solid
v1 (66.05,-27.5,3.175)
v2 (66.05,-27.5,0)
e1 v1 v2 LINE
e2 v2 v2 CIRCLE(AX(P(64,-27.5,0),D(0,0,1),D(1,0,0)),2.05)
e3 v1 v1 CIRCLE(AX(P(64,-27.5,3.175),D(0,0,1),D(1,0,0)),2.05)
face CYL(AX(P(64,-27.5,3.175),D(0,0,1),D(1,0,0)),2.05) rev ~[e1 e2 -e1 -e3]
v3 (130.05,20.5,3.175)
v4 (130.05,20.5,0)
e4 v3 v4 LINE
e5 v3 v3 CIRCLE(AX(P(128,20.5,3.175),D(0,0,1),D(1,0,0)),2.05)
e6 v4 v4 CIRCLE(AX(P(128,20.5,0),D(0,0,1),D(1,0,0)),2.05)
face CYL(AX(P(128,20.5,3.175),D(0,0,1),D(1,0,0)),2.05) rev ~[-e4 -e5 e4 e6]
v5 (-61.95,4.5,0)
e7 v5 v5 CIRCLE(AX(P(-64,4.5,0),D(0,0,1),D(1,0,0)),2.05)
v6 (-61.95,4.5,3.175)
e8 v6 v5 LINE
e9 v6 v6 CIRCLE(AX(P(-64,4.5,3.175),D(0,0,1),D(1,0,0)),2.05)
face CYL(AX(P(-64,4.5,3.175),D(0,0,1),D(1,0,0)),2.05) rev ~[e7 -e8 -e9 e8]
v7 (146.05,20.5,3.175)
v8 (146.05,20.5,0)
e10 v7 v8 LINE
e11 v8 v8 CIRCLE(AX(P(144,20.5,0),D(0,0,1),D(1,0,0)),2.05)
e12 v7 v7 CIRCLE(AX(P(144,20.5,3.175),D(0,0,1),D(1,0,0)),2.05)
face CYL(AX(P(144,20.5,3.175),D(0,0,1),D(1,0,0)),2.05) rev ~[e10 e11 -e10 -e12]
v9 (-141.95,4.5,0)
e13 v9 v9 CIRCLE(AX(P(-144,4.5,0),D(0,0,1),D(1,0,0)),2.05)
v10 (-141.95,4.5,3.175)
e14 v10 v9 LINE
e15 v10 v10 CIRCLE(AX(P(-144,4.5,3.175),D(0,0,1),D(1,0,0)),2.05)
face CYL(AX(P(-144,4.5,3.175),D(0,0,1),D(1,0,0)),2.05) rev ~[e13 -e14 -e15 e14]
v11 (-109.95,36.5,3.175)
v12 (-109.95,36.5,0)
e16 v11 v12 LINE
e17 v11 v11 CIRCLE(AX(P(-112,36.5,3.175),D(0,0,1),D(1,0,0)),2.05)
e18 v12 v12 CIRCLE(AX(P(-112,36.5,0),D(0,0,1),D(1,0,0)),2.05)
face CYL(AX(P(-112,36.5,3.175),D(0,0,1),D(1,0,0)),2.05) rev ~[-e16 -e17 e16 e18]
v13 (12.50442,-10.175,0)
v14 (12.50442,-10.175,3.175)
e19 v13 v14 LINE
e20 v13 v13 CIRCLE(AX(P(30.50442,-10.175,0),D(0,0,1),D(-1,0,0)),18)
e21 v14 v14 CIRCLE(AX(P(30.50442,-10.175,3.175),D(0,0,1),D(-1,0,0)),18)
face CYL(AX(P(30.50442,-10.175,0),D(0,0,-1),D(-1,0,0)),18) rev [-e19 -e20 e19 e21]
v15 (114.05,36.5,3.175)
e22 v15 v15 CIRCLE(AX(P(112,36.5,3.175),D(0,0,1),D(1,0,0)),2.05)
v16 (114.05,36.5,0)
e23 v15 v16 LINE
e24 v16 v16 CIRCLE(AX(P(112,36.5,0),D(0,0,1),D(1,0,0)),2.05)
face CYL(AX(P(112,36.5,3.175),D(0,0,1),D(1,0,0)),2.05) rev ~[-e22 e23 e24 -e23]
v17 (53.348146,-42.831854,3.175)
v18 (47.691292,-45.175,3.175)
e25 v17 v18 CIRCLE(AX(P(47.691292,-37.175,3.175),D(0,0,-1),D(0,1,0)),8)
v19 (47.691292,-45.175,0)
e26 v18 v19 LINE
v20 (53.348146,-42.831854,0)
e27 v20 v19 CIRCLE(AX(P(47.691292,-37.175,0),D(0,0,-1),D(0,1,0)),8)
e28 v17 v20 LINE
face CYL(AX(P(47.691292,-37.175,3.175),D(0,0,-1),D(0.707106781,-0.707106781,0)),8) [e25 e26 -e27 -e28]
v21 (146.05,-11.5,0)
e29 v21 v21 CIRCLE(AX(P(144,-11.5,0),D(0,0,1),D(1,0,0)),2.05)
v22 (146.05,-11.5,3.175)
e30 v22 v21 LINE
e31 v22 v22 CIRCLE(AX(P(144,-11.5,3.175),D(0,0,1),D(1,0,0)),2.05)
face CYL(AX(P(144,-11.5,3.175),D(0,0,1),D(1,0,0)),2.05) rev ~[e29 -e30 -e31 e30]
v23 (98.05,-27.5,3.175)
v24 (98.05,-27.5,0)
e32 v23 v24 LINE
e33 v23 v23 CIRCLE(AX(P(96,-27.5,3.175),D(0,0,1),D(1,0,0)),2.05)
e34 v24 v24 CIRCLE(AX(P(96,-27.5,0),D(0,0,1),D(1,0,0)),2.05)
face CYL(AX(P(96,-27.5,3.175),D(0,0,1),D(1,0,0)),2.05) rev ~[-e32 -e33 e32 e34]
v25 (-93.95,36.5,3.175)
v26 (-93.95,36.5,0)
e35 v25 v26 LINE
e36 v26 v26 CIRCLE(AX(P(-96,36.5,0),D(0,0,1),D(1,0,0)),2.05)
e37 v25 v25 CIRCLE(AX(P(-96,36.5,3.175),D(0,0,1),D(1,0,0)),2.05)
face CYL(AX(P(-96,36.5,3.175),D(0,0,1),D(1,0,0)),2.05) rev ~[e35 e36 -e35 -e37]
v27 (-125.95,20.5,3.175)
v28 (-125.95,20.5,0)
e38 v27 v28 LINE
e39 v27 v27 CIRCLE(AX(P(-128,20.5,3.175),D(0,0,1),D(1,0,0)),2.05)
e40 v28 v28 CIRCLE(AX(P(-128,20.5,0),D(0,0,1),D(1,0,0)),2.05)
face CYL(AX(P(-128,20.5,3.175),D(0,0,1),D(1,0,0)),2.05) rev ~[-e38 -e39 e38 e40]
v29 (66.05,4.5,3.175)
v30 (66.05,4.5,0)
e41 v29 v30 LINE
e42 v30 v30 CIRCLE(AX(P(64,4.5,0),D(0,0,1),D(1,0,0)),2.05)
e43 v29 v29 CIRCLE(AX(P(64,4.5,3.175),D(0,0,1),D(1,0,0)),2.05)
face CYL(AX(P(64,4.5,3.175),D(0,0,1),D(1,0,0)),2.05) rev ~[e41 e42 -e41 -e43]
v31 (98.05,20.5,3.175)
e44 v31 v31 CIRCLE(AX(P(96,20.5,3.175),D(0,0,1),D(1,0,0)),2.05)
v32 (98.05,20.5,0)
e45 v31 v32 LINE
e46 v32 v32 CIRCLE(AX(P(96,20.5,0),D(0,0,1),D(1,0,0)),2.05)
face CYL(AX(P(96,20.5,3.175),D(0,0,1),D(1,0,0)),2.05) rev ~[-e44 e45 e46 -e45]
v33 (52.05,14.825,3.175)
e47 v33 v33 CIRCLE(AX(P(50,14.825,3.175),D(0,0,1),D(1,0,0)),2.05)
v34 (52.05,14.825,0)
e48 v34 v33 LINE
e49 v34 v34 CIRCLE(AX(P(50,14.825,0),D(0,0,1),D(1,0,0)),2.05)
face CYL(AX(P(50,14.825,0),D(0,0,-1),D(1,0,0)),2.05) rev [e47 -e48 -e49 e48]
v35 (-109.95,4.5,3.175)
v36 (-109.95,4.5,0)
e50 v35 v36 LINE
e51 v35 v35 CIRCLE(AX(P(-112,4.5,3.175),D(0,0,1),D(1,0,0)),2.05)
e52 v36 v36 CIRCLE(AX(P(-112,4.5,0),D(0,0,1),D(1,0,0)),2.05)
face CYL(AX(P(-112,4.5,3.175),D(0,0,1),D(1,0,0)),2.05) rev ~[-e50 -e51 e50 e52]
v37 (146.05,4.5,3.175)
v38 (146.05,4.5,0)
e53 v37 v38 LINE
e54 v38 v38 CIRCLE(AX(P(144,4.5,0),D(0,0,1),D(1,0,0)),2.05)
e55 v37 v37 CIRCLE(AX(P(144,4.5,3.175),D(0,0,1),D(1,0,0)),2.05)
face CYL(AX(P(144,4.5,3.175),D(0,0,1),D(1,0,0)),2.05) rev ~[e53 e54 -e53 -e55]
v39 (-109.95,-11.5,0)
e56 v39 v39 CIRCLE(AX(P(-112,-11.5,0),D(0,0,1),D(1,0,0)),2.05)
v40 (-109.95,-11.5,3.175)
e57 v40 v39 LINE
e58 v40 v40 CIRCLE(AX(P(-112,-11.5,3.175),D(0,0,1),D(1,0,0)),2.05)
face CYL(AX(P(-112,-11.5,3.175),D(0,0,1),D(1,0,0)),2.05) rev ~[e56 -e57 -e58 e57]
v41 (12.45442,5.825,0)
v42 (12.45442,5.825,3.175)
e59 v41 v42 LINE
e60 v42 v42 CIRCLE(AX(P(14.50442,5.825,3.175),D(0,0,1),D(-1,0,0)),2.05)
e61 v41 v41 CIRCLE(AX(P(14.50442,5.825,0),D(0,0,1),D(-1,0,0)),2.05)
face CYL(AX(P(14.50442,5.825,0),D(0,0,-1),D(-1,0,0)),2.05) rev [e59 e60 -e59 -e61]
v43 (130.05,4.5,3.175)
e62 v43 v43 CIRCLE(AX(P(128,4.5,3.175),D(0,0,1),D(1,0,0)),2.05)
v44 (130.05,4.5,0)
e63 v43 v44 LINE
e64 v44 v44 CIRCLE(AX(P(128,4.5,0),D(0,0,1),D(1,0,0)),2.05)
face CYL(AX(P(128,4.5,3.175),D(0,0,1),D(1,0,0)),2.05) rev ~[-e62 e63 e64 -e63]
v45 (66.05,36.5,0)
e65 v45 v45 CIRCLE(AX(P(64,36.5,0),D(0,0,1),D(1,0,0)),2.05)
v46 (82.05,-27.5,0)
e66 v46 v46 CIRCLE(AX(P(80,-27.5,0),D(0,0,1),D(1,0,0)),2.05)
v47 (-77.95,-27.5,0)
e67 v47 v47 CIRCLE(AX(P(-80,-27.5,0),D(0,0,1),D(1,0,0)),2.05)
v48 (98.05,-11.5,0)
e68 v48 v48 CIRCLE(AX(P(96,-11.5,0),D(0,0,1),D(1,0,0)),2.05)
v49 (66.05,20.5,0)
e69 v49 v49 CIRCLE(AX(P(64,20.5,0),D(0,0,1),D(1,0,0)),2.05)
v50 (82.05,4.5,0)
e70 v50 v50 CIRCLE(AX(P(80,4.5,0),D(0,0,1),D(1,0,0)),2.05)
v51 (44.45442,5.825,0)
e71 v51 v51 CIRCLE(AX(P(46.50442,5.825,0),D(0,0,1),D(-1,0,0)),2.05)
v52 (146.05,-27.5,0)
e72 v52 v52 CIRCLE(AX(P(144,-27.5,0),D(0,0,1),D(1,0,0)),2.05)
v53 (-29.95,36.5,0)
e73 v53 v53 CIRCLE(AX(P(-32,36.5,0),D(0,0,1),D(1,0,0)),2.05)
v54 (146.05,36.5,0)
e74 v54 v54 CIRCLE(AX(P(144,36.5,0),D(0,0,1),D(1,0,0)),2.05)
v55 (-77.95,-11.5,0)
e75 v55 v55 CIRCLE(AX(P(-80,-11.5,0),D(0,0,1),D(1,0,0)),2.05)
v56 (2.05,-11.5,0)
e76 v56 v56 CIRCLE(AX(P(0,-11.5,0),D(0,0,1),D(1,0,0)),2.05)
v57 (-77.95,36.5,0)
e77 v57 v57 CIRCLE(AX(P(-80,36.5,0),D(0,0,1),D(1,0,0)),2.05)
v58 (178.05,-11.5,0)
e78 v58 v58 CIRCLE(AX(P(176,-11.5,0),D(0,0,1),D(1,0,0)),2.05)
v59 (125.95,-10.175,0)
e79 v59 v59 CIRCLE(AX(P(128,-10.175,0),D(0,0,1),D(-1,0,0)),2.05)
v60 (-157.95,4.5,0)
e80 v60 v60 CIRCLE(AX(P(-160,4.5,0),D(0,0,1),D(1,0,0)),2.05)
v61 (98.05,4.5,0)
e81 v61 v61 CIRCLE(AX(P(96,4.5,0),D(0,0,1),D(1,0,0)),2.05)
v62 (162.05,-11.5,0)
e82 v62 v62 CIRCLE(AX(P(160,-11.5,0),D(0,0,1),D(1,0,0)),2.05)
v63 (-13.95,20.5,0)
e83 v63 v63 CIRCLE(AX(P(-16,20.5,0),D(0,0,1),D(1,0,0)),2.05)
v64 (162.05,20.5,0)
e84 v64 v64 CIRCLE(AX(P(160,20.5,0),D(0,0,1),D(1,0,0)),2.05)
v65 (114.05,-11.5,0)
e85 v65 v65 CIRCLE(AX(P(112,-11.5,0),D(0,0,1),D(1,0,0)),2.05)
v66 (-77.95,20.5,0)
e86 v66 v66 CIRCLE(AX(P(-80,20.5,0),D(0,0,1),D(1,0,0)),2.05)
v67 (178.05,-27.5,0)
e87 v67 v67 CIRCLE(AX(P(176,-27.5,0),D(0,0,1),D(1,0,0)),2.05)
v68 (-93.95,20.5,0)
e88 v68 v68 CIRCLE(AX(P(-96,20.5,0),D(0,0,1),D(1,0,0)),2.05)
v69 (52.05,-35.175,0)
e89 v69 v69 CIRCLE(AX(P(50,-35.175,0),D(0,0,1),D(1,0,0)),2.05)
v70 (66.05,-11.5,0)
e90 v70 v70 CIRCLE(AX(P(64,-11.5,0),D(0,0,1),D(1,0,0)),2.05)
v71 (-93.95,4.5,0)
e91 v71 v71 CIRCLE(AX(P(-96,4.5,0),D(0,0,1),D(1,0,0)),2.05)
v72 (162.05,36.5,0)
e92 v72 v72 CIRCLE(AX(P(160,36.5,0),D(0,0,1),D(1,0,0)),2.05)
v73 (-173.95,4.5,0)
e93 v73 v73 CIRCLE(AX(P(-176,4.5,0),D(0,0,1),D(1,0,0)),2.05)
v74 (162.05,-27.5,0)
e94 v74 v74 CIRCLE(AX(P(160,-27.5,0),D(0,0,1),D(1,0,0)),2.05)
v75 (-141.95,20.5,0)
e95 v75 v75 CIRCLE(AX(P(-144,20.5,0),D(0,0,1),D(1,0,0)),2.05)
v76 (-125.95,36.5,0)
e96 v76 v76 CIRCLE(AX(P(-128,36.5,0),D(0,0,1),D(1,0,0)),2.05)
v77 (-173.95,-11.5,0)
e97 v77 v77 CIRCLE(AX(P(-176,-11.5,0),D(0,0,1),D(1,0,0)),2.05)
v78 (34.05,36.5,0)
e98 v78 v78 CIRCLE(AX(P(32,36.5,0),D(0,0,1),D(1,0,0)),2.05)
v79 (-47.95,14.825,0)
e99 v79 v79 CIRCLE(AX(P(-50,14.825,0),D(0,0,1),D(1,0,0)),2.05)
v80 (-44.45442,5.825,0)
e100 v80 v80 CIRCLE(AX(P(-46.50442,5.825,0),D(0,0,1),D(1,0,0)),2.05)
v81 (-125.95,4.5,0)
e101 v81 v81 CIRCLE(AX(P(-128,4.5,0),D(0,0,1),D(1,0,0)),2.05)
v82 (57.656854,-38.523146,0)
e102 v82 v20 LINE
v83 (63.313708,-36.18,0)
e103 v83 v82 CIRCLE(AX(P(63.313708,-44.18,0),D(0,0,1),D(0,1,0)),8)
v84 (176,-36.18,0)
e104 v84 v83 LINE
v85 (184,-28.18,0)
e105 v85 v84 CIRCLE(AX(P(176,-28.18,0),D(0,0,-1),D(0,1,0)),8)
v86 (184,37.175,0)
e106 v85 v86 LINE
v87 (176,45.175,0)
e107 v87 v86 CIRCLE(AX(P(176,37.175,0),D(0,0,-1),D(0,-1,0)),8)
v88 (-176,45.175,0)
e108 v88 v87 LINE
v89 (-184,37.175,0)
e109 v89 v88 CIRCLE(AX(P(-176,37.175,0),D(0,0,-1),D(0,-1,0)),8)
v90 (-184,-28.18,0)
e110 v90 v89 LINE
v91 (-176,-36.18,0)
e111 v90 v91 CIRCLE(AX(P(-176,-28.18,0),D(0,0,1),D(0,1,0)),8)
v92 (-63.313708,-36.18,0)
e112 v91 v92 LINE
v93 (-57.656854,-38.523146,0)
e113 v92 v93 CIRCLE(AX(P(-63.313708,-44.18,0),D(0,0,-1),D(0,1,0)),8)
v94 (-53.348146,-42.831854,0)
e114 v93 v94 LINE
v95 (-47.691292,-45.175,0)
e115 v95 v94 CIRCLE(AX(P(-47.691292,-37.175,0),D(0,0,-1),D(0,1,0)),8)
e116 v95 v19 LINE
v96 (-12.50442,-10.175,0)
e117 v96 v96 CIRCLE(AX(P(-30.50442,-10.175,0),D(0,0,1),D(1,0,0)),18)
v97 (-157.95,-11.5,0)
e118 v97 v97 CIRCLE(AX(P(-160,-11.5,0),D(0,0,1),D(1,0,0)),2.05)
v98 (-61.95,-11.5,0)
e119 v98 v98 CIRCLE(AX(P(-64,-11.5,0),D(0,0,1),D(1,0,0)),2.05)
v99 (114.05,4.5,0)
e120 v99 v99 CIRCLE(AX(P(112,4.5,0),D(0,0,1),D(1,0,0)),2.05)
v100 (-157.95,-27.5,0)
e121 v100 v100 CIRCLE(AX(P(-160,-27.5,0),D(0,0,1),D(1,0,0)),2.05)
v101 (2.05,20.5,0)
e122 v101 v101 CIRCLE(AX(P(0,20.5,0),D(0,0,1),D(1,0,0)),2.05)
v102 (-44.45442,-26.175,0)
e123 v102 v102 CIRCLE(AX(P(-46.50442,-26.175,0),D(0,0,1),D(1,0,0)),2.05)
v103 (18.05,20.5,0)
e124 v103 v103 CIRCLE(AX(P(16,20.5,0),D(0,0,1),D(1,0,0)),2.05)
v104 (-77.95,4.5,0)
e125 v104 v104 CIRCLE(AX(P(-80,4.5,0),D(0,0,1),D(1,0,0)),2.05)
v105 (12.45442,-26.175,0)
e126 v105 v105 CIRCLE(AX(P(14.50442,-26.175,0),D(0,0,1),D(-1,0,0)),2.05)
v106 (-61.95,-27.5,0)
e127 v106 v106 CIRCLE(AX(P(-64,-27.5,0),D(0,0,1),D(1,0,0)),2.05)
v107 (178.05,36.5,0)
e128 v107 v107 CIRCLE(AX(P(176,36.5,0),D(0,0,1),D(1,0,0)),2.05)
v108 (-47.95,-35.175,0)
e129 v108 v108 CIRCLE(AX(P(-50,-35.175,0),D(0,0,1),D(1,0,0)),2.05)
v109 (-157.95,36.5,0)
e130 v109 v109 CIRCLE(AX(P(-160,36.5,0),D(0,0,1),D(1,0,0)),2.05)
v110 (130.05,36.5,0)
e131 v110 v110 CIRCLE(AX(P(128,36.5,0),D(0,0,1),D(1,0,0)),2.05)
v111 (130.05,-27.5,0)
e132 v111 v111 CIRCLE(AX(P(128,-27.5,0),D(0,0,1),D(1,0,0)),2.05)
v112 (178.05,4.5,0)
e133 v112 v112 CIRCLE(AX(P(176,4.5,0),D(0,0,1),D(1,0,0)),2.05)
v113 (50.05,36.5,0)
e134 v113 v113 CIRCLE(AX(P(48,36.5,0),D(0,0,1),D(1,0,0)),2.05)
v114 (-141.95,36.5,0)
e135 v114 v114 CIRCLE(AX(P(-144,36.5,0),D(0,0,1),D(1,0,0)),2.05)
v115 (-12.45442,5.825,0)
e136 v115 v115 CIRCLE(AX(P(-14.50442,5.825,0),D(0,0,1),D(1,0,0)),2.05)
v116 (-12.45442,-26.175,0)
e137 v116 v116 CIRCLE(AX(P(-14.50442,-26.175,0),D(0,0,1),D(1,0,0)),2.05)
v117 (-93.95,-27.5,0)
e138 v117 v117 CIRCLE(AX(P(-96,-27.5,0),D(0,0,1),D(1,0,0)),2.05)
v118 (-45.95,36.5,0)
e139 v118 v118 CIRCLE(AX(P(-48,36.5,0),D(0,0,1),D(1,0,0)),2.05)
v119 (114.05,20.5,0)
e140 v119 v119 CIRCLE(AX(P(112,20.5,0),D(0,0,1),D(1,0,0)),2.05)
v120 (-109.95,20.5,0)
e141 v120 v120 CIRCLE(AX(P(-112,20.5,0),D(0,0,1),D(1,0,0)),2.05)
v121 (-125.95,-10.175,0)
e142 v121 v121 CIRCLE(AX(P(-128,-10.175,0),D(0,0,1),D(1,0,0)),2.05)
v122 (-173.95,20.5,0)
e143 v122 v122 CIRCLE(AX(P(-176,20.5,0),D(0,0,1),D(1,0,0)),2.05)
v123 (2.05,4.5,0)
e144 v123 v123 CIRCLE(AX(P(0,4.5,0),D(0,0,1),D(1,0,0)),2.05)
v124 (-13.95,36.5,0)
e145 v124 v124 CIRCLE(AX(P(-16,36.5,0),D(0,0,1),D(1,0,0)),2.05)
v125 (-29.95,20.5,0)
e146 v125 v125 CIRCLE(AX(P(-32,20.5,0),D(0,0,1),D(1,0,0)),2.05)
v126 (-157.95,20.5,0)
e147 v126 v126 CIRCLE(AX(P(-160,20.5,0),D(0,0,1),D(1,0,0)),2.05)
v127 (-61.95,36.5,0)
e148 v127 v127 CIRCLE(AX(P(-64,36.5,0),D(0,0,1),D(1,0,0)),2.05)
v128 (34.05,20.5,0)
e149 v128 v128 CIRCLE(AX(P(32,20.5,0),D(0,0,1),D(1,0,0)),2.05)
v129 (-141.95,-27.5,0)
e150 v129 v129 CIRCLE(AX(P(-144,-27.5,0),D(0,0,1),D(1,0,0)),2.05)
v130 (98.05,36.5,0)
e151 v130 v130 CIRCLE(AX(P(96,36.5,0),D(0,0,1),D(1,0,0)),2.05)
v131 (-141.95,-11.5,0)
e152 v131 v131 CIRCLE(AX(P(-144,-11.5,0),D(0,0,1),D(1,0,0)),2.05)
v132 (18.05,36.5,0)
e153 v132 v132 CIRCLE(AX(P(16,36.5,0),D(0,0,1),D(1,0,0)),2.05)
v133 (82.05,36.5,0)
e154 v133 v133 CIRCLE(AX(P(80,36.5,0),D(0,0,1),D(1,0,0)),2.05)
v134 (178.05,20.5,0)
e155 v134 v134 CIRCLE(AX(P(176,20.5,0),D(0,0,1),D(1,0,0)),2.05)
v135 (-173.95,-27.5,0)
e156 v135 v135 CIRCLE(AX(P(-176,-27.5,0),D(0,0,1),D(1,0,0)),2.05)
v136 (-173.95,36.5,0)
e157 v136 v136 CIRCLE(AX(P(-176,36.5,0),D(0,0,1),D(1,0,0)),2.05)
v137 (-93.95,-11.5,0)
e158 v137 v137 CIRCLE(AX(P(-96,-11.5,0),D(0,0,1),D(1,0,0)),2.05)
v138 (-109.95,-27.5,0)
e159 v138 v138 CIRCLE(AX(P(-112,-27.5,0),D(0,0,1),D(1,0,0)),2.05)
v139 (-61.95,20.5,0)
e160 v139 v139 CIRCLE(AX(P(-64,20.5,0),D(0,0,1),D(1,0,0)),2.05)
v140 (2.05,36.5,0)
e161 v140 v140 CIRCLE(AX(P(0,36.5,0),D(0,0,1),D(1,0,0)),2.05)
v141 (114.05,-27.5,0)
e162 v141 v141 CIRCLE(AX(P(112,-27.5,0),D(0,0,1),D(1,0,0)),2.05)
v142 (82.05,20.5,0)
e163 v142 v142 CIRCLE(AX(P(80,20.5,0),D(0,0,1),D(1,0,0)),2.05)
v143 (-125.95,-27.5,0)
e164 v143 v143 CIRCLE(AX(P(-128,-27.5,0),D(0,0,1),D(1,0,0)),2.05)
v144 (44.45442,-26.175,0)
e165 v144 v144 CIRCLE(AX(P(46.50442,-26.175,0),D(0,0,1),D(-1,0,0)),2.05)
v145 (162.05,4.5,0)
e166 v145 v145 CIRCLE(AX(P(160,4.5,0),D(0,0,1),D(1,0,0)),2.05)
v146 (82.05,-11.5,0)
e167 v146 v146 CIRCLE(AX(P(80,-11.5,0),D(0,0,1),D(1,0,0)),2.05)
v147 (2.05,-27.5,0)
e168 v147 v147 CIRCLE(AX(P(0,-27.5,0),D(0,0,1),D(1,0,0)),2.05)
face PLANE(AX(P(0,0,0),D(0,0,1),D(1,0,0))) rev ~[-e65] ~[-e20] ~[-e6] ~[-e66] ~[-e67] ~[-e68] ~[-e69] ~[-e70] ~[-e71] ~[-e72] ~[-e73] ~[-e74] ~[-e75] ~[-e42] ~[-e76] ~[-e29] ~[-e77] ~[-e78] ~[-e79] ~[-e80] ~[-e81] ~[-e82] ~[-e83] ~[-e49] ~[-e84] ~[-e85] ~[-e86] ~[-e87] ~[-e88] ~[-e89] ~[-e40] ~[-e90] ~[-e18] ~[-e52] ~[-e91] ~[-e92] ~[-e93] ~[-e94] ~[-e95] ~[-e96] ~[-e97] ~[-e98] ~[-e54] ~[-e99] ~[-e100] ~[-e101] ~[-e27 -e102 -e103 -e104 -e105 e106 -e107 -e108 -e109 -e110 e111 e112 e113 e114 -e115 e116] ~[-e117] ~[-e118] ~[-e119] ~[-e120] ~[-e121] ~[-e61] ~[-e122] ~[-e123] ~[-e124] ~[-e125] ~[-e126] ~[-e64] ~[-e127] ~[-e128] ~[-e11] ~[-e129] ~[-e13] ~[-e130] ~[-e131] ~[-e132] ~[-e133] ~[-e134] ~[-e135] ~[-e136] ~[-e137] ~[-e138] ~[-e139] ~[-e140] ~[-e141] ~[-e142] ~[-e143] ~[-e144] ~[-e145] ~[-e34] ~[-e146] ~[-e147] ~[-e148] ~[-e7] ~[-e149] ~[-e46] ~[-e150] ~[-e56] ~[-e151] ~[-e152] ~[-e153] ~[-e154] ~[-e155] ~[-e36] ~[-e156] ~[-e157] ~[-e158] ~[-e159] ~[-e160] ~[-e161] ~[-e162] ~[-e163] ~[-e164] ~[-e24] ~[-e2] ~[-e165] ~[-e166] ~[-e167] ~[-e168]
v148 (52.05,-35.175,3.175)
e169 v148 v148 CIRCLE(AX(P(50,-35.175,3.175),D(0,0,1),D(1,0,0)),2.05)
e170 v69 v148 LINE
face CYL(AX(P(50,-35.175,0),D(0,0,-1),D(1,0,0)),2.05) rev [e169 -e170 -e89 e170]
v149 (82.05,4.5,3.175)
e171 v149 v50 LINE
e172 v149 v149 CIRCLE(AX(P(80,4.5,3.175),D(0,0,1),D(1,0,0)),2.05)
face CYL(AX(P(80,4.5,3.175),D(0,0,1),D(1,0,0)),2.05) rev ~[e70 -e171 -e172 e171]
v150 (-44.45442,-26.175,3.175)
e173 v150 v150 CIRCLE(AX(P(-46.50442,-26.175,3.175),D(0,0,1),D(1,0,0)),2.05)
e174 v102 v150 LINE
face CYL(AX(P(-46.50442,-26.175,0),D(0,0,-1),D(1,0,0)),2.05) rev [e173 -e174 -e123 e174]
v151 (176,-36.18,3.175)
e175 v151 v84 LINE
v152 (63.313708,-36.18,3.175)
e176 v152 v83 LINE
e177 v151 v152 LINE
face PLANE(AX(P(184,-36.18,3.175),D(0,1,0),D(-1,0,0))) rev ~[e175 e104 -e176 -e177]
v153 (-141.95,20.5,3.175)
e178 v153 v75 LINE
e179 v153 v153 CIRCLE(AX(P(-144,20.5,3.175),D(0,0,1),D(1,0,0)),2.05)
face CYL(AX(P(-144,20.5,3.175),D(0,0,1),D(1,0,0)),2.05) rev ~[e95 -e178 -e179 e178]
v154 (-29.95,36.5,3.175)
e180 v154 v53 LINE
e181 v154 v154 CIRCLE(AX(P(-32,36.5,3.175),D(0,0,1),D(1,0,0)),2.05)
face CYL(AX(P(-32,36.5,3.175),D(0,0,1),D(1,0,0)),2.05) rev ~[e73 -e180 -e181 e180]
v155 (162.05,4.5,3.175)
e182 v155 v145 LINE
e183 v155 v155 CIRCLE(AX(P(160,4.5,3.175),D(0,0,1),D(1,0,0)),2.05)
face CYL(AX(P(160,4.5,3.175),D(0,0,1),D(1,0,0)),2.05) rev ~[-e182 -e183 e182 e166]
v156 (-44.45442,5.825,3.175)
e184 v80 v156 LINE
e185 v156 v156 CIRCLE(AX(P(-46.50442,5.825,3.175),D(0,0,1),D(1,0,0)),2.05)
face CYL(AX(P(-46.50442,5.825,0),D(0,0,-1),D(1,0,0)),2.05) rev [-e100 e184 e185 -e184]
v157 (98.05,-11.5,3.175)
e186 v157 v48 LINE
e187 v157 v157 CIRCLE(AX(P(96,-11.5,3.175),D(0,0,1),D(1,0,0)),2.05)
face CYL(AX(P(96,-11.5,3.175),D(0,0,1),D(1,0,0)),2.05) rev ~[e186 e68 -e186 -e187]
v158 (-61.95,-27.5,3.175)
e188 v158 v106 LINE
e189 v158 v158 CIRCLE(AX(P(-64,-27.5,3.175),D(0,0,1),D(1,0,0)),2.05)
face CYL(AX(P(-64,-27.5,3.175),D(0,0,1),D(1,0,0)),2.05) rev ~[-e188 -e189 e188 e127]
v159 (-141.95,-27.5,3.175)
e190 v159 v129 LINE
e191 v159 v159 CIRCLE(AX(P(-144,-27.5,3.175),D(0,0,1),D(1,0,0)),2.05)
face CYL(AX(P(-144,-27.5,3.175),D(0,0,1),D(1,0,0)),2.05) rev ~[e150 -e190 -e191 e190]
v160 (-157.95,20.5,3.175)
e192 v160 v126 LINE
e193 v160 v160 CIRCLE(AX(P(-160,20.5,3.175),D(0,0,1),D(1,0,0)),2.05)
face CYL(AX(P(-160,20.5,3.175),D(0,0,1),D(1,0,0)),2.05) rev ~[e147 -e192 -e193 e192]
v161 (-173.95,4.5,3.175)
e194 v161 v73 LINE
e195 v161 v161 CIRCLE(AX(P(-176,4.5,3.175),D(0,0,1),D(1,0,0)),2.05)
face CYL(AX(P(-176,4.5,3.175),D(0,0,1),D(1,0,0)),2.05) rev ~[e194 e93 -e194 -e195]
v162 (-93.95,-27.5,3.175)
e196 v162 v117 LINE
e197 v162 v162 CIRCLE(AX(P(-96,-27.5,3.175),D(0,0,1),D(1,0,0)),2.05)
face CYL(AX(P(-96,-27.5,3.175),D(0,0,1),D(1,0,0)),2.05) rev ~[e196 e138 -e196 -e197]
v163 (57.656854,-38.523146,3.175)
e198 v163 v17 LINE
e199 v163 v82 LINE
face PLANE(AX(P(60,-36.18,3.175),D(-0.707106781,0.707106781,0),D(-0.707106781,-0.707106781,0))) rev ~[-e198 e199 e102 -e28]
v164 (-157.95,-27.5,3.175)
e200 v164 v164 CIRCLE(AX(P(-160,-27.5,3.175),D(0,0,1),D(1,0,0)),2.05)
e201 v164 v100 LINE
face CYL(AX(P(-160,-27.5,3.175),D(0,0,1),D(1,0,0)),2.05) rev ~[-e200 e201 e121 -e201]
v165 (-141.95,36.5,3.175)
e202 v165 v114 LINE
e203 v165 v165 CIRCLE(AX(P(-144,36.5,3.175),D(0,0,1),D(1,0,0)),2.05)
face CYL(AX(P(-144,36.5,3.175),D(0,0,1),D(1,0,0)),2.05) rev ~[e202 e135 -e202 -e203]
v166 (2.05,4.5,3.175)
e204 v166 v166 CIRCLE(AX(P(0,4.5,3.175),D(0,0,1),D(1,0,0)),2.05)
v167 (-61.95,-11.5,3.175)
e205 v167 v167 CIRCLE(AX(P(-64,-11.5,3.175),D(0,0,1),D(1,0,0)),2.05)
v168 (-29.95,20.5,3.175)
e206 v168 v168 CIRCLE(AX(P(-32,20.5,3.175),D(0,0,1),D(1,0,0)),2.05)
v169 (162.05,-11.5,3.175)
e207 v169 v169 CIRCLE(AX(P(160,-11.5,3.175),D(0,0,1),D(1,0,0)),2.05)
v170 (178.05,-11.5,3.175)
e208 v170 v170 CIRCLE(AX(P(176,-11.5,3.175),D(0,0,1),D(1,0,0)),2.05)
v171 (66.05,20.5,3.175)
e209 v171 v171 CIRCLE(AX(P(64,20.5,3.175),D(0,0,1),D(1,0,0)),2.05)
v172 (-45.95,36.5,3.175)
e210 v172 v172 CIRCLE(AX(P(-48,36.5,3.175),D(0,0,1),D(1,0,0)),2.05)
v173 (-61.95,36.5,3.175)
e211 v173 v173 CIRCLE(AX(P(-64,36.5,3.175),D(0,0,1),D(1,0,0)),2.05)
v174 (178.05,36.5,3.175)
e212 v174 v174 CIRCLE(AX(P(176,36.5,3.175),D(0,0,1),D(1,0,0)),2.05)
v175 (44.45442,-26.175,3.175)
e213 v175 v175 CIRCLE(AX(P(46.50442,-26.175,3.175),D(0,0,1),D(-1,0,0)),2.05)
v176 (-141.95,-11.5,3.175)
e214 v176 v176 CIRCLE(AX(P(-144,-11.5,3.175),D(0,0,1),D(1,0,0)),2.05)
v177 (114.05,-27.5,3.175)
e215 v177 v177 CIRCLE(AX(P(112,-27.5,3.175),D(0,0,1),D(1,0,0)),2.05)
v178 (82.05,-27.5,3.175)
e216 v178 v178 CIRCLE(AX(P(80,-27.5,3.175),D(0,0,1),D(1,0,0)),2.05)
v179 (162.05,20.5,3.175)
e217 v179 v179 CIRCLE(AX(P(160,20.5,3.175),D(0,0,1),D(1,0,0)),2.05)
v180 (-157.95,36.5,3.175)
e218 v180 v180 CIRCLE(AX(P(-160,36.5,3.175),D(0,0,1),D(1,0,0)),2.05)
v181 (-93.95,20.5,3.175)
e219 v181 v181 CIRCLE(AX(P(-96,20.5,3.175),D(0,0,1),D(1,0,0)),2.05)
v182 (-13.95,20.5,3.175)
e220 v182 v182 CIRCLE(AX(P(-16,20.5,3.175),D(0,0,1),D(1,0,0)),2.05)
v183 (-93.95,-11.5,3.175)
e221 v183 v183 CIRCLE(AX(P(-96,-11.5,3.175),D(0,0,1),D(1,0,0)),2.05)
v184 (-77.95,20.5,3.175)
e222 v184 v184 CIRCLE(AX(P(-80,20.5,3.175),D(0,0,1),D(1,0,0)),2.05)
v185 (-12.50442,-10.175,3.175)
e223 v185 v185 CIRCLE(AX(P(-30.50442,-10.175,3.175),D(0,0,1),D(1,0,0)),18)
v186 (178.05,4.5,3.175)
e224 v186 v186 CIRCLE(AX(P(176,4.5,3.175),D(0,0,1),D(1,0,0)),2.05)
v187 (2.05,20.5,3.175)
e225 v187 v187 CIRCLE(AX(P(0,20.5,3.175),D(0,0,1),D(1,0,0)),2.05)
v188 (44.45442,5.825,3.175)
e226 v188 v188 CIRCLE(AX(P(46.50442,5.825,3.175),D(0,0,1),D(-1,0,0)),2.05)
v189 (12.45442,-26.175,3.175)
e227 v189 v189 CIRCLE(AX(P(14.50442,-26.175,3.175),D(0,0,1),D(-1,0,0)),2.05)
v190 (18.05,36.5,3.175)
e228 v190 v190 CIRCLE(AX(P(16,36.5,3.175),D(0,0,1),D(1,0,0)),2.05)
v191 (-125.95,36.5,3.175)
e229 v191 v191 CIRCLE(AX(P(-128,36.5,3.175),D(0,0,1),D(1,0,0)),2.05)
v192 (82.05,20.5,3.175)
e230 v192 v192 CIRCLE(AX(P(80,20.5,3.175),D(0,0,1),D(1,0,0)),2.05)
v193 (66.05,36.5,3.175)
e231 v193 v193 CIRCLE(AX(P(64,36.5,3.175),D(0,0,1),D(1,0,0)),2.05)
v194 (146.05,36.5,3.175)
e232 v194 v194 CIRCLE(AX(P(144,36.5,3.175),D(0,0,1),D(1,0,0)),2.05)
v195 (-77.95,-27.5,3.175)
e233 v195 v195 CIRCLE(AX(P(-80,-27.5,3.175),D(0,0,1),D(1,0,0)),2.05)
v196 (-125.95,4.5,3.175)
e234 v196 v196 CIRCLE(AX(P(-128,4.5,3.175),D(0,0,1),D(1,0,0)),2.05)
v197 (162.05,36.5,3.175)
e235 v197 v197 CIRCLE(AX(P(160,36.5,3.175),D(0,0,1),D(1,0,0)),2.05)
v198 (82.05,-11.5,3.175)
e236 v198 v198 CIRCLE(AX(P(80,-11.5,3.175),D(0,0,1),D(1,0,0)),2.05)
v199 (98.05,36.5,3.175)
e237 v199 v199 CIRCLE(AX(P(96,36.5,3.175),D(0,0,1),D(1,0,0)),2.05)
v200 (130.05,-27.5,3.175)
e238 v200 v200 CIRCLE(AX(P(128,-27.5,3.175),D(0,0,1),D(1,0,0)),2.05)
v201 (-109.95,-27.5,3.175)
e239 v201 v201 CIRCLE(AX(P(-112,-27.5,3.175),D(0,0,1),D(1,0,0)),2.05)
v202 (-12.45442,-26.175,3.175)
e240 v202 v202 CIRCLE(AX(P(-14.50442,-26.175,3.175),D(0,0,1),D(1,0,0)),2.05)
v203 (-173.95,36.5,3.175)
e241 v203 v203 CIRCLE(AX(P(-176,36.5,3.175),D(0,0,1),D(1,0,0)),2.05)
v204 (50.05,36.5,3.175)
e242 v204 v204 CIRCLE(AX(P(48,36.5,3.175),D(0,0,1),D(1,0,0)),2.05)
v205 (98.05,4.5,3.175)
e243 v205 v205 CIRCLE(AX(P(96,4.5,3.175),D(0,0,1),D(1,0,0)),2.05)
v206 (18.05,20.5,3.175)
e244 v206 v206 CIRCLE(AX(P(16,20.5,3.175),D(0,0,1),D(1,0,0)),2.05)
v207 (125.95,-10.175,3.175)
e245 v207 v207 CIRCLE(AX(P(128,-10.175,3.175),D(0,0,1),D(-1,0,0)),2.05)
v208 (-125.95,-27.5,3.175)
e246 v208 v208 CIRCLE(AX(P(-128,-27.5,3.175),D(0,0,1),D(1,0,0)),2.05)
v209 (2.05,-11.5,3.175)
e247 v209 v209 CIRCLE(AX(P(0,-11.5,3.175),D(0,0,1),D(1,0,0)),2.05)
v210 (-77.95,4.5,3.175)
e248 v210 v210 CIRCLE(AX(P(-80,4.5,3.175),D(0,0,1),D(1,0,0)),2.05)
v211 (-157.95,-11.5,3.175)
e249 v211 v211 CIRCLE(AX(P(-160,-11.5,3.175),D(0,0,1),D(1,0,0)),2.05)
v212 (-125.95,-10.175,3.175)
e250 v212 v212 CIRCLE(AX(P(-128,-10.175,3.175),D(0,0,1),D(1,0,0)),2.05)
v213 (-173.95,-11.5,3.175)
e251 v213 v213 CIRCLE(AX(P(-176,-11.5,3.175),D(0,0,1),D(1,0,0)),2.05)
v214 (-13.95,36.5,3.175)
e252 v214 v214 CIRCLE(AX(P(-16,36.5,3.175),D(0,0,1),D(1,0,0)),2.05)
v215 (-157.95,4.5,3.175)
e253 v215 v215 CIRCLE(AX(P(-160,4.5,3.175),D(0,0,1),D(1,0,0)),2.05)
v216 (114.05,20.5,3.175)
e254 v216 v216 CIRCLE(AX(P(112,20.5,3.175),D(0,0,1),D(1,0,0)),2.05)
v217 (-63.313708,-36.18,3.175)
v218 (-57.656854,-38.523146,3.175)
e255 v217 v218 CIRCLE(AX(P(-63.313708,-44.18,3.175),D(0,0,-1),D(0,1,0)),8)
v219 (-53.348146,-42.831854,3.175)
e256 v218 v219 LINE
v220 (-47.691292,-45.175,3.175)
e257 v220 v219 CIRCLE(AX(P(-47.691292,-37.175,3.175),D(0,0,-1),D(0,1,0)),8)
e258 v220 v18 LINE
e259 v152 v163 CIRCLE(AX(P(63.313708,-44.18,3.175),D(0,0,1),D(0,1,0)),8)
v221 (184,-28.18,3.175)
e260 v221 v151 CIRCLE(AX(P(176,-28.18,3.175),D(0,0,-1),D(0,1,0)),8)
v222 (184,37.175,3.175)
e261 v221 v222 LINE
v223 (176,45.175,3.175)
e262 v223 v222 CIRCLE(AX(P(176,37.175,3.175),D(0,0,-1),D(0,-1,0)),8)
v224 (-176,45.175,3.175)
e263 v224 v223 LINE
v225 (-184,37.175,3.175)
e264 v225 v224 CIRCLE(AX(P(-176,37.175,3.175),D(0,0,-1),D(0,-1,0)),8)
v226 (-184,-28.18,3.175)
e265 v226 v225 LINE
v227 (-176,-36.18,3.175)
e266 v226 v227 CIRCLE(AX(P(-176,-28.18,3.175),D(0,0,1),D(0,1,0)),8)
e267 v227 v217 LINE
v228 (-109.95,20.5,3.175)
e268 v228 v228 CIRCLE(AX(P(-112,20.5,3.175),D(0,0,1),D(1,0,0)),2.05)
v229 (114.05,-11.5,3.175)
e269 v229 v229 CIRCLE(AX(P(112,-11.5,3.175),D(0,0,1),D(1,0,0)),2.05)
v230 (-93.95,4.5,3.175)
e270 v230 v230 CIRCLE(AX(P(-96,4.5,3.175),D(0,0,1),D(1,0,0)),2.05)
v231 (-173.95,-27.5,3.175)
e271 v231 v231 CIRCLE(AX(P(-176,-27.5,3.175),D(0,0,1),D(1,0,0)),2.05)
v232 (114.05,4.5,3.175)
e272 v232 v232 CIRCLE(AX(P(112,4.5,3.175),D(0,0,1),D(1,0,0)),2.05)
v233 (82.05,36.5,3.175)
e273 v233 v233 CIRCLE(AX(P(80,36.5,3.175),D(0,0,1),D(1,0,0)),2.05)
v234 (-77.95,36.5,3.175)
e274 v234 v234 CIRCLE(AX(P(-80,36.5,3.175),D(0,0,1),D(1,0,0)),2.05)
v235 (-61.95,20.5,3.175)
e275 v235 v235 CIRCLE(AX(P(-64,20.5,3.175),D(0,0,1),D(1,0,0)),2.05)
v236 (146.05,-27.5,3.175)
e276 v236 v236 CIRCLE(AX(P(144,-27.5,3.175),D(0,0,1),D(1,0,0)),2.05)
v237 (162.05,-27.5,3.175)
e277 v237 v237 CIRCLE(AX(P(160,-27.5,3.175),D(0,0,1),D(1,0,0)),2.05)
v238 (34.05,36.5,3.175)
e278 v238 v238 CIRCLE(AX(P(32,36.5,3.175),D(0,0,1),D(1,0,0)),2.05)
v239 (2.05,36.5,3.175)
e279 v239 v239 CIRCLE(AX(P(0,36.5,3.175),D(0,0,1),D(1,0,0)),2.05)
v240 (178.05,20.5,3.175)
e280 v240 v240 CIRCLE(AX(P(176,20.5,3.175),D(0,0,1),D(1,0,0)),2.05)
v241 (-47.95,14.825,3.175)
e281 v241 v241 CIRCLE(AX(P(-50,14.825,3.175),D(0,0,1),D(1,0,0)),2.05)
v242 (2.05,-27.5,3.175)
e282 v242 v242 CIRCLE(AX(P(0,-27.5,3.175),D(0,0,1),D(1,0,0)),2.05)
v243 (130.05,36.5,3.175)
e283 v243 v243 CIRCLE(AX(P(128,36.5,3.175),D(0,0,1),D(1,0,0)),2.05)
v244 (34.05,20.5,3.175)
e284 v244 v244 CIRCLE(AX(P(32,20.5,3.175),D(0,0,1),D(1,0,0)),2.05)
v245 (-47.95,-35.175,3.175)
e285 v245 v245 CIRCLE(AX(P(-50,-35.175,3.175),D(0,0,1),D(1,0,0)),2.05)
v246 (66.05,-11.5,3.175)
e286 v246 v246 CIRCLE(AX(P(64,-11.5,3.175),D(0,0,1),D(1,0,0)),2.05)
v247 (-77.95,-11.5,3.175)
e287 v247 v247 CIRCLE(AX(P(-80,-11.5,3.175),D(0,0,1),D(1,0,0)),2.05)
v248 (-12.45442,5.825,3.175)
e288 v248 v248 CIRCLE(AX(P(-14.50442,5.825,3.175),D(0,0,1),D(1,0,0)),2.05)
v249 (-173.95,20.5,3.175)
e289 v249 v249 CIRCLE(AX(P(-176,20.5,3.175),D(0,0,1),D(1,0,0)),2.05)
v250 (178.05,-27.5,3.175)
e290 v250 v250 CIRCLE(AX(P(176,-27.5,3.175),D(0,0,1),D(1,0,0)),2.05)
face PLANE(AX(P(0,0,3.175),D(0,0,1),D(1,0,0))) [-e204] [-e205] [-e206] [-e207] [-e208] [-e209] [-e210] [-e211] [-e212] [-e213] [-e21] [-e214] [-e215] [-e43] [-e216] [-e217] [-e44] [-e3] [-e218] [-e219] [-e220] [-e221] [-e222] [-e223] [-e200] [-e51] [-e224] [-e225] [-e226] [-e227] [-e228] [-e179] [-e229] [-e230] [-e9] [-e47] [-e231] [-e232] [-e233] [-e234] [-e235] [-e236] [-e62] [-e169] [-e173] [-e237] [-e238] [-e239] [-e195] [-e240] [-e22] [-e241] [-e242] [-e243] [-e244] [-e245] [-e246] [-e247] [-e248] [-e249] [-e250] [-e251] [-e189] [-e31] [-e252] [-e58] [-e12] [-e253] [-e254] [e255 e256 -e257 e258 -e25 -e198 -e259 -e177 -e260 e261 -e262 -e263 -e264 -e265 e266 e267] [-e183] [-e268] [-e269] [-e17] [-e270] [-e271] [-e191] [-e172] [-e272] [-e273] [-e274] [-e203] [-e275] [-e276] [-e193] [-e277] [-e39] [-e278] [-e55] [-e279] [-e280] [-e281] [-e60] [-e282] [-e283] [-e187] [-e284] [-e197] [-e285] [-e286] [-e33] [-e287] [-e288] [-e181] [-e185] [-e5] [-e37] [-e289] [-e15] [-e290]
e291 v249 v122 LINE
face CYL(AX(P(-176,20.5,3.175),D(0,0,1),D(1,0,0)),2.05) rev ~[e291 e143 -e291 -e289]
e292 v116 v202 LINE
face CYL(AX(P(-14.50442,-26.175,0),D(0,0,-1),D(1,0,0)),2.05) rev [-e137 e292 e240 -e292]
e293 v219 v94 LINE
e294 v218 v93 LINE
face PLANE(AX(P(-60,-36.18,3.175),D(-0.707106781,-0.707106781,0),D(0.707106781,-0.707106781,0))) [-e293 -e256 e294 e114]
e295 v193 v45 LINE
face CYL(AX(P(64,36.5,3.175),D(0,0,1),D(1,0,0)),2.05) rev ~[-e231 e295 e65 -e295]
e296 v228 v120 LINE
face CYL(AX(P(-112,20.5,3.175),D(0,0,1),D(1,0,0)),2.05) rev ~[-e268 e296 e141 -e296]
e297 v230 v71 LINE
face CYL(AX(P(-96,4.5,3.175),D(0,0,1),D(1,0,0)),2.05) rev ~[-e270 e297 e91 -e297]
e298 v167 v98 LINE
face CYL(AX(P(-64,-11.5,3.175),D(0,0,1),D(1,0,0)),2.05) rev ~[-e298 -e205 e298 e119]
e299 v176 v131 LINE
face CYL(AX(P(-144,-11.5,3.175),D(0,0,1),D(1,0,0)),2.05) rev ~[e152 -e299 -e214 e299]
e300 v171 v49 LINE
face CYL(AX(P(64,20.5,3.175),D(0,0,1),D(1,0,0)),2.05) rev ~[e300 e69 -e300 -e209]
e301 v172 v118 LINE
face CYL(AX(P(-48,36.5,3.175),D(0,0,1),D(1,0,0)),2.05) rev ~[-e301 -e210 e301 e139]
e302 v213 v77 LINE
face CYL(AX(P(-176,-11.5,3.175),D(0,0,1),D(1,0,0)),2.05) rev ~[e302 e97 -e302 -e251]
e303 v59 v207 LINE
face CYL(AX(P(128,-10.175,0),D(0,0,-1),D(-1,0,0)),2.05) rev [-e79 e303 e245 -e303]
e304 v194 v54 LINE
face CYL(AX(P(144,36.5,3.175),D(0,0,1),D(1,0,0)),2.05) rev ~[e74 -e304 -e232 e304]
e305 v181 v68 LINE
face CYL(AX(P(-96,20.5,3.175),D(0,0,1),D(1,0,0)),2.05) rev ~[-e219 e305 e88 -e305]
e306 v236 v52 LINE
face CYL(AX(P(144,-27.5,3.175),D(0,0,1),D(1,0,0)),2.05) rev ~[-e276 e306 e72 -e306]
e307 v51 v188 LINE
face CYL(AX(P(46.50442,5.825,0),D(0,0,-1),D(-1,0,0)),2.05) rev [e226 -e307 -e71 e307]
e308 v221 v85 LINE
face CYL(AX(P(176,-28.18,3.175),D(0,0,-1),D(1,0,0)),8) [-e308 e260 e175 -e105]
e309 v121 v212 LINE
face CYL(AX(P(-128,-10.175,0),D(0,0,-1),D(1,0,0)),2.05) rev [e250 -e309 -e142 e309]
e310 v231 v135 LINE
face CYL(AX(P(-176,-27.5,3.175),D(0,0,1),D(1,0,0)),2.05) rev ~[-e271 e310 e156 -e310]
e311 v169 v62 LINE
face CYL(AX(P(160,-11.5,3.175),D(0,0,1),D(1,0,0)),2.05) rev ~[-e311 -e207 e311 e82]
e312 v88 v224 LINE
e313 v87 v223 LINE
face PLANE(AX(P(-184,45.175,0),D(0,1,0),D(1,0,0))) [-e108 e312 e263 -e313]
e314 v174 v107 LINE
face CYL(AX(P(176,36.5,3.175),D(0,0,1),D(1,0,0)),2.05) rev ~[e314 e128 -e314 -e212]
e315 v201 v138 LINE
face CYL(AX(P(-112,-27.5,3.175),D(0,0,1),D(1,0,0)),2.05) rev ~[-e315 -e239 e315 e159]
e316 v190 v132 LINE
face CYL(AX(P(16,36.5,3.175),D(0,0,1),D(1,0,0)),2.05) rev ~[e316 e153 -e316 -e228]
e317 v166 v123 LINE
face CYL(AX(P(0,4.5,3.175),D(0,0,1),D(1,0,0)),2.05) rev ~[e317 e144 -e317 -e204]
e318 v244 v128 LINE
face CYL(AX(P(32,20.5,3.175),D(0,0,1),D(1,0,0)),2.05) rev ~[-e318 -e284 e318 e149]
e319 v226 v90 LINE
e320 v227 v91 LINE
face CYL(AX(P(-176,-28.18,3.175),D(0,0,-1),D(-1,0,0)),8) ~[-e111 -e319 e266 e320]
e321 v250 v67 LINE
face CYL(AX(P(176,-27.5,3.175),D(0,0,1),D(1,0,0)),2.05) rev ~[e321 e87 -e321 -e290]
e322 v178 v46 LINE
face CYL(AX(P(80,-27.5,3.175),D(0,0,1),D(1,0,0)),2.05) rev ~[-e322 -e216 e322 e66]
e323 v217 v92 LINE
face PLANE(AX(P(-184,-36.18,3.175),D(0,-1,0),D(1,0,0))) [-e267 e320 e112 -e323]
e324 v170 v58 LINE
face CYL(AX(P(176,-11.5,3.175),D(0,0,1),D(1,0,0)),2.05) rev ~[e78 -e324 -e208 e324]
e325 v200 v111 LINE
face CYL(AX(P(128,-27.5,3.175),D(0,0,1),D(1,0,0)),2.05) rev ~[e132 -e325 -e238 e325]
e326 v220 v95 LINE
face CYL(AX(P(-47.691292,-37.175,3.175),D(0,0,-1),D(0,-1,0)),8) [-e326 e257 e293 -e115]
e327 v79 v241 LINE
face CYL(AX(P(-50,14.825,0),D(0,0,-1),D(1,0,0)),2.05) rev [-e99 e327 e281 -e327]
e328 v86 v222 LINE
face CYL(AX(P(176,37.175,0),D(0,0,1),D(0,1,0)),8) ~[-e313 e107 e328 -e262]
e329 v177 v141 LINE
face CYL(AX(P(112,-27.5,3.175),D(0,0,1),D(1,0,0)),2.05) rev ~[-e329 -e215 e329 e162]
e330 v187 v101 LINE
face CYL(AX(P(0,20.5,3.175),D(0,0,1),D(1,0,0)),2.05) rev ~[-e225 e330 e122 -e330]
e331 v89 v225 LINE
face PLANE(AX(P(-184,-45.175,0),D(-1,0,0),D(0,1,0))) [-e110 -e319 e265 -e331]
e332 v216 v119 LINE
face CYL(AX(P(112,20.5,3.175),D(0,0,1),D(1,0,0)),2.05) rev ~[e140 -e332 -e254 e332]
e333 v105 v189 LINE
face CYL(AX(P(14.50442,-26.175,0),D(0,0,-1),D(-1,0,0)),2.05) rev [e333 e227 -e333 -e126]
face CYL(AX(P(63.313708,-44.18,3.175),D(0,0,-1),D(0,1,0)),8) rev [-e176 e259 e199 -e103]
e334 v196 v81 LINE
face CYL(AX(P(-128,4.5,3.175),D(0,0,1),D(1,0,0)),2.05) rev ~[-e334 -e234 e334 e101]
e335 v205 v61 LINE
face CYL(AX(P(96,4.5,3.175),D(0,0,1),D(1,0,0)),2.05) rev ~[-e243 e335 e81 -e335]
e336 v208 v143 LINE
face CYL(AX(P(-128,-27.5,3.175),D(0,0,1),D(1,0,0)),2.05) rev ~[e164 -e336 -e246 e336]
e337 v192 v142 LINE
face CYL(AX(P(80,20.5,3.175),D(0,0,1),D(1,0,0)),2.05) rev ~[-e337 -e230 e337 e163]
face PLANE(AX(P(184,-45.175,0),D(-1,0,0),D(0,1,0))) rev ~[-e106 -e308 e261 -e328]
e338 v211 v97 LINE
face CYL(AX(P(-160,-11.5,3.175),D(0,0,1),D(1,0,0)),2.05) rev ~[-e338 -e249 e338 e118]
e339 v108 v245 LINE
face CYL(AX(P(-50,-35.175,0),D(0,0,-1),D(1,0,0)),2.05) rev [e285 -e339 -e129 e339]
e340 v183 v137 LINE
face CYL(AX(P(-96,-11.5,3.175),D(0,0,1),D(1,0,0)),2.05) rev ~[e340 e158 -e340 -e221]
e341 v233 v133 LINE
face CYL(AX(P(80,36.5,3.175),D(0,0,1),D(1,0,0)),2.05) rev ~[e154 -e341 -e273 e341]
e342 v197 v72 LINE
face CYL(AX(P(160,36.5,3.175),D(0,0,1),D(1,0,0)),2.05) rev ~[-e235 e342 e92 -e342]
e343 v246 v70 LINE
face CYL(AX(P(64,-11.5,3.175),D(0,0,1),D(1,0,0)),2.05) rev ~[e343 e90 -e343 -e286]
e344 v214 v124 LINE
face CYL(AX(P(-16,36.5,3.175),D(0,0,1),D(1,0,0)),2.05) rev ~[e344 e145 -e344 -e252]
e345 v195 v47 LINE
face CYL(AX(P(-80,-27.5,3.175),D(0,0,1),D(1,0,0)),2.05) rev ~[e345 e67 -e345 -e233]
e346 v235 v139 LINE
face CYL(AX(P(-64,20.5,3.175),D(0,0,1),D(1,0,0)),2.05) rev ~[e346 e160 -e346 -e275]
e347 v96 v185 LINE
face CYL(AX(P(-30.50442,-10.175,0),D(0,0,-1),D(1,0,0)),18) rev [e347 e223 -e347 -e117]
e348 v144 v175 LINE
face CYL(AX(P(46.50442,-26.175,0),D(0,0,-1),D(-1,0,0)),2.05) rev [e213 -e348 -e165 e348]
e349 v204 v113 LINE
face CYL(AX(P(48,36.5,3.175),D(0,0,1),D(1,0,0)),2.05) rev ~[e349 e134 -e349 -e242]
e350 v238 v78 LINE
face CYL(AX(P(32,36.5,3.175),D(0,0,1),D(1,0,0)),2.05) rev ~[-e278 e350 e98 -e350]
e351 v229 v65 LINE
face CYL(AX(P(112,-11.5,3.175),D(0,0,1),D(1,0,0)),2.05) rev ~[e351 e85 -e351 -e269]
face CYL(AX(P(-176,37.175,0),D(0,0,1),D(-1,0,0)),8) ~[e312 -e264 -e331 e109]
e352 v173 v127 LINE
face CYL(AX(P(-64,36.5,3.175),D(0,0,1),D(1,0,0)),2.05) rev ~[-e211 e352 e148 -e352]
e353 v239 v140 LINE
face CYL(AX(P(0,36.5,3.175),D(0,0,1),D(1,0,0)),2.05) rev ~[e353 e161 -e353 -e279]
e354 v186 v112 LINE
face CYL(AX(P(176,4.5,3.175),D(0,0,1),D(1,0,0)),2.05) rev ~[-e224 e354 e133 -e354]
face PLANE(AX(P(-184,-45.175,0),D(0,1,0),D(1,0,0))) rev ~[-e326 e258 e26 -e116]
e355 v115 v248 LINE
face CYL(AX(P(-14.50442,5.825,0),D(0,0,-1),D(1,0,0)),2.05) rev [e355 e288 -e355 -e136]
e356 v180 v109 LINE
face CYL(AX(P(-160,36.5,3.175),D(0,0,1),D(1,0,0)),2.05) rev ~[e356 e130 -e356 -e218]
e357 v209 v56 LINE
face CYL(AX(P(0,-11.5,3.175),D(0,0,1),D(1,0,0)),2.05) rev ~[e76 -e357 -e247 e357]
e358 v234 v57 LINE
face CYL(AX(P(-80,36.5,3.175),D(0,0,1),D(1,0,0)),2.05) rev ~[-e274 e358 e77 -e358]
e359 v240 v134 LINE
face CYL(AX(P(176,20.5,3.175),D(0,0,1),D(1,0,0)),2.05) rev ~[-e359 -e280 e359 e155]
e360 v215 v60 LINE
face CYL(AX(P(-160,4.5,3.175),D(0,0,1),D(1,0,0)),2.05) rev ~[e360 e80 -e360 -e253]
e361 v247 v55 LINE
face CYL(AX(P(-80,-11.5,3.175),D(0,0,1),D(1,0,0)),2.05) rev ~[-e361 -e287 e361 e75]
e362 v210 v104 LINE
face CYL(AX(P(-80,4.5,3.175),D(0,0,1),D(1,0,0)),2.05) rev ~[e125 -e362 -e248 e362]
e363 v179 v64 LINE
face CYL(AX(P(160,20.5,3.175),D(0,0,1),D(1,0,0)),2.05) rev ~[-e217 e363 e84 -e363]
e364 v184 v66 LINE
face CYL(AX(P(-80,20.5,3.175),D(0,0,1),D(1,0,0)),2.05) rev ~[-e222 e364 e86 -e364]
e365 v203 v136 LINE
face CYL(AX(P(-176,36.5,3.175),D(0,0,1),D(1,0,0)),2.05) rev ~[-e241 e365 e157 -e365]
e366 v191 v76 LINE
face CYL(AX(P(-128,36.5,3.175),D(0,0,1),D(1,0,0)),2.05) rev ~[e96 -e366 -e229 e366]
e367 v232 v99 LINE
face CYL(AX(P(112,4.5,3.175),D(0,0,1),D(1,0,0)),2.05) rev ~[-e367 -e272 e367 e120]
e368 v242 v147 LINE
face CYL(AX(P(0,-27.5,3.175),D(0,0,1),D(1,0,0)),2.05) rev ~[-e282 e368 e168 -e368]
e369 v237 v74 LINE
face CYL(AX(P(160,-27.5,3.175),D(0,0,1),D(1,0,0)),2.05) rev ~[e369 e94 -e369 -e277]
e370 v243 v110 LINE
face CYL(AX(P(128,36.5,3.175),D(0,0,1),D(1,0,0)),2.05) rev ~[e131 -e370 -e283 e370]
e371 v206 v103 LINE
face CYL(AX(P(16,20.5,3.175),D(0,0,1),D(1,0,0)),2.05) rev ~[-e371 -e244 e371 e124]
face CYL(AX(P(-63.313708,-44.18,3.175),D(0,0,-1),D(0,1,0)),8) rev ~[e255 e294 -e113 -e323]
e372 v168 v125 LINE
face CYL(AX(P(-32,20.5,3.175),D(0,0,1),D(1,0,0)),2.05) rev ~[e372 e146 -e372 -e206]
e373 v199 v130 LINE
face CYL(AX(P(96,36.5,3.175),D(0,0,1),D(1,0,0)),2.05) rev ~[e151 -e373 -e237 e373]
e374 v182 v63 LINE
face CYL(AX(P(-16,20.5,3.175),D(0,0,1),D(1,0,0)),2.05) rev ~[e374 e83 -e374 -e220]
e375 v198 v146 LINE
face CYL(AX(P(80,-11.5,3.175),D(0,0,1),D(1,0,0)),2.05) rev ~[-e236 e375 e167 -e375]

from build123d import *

# Parameters (mm, degrees)
SKETCH1_W           = 368
SKETCH1_H           = 90.35
SKETCH1_R           = 18
SKETCH1_R_2         = 2.05
BOSS_EXTRUDE1_DEPTH = 3.175
SKETCH3_R           = 2.05
CUT_EXTRUDE1_DEPTH  = 3.18
CUT_EXTRUDE2_DEPTH  = 10
FILLET1_R           = 8


with BuildPart() as part:
    # Sketch1 → Boss-Extrude1 (new body)
    with BuildSketch(Plane.XY):
        Rectangle(SKETCH1_W, SKETCH1_H)
        with Locations((-30.504419684, -10.175)):
            Circle(SKETCH1_R, mode=Mode.SUBTRACT)
        with Locations((-128, -10.175)):
            Circle(SKETCH1_R_2, mode=Mode.SUBTRACT)
        with Locations(Location((128, -10.175, 0), (0, 0, 180))):
            Circle(SKETCH1_R_2, mode=Mode.SUBTRACT)
        with Locations(Location((30.504419684, -10.175, 0), (0, 0, 180))):
            Circle(SKETCH1_R, mode=Mode.SUBTRACT)
        with Locations((-50, 14.825)):
            Circle(SKETCH1_R_2, mode=Mode.SUBTRACT)
        with Locations((50, 14.825)):
            Circle(SKETCH1_R_2, mode=Mode.SUBTRACT)
        with Locations((50, -35.175)):
            Circle(SKETCH1_R_2, mode=Mode.SUBTRACT)
        with Locations((-50, -35.175)):
            Circle(SKETCH1_R_2, mode=Mode.SUBTRACT)
        with Locations((-46.504419684, 5.825)):
            Circle(SKETCH1_R_2, mode=Mode.SUBTRACT)
        with Locations((-14.504419684, 5.825)):
            Circle(SKETCH1_R_2, mode=Mode.SUBTRACT)
        with Locations((-14.504419684, -26.175)):
            Circle(SKETCH1_R_2, mode=Mode.SUBTRACT)
        with Locations((-46.504419684, -26.175)):
            Circle(SKETCH1_R_2, mode=Mode.SUBTRACT)
        with Locations(Location((46.504419684, 5.825, 0), (0, 0, 180))):
            Circle(SKETCH1_R_2, mode=Mode.SUBTRACT)
        with Locations(Location((14.504419684, 5.825, 0), (0, 0, 180))):
            Circle(SKETCH1_R_2, mode=Mode.SUBTRACT)
        with Locations(Location((46.504419684, -26.175, 0), (0, 0, 180))):
            Circle(SKETCH1_R_2, mode=Mode.SUBTRACT)
        with Locations(Location((14.504419684, -26.175, 0), (0, 0, 180))):
            Circle(SKETCH1_R_2, mode=Mode.SUBTRACT)
    extrude(amount=BOSS_EXTRUDE1_DEPTH)

    # Sketch3 → Cut-Extrude1 (cut)
    with BuildSketch(Plane.XY.offset(3.175)):
        with Locations((-176, 36.5)):
            Circle(SKETCH3_R)
        with Locations((-160, 36.5)):
            Circle(SKETCH3_R)
        with Locations((-144, 36.5)):
            Circle(SKETCH3_R)
        with Locations((-128, 36.5)):
            Circle(SKETCH3_R)
        with Locations((-112, 36.5)):
            Circle(SKETCH3_R)
        with Locations((-96, 36.5)):
            Circle(SKETCH3_R)
        with Locations((-80, 36.5)):
            Circle(SKETCH3_R)
        with Locations((-64, 36.5)):
            Circle(SKETCH3_R)
        with Locations((-48, 36.5)):
            Circle(SKETCH3_R)
        with Locations((-32, 36.5)):
            Circle(SKETCH3_R)
        with Locations((-16, 36.5)):
            Circle(SKETCH3_R)
        with Locations((0, 36.5)):
            Circle(SKETCH3_R)
        with Locations((16, 36.5)):
            Circle(SKETCH3_R)
        with Locations((32, 36.5)):
            Circle(SKETCH3_R)
        with Locations((48, 36.5)):
            Circle(SKETCH3_R)
        with Locations((64, 36.5)):
            Circle(SKETCH3_R)
        with Locations((80, 36.5)):
            Circle(SKETCH3_R)
        with Locations((96, 36.5)):
            Circle(SKETCH3_R)
        with Locations((112, 36.5)):
            Circle(SKETCH3_R)
        with Locations((128, 36.5)):
            Circle(SKETCH3_R)
        with Locations((144, 36.5)):
            Circle(SKETCH3_R)
        with Locations((160, 36.5)):
            Circle(SKETCH3_R)
        with Locations((176, 36.5)):
            Circle(SKETCH3_R)
        with Locations((-160, 20.5)):
            Circle(SKETCH3_R)
        with Locations((-144, 20.5)):
            Circle(SKETCH3_R)
        with Locations((-128, 20.5)):
            Circle(SKETCH3_R)
        with Locations((-112, 20.5)):
            Circle(SKETCH3_R)
        with Locations((-96, 20.5)):
            Circle(SKETCH3_R)
        with Locations((-80, 20.5)):
            Circle(SKETCH3_R)
        with Locations((-64, 20.5)):
            Circle(SKETCH3_R)
        with Locations((-32, 20.5)):
            Circle(SKETCH3_R)
        with Locations((-16, 20.5)):
            Circle(SKETCH3_R)
        with Locations((0, 20.5)):
            Circle(SKETCH3_R)
        with Locations((16, 20.5)):
            Circle(SKETCH3_R)
        with Locations((32, 20.5)):
            Circle(SKETCH3_R)
        with Locations((64, 20.5)):
            Circle(SKETCH3_R)
        with Locations((80, 20.5)):
            Circle(SKETCH3_R)
        with Locations((96, 20.5)):
            Circle(SKETCH3_R)
        with Locations((112, 20.5)):
            Circle(SKETCH3_R)
        with Locations((128, 20.5)):
            Circle(SKETCH3_R)
        with Locations((144, 20.5)):
            Circle(SKETCH3_R)
        with Locations((160, 20.5)):
            Circle(SKETCH3_R)
        with Locations((176, 20.5)):
            Circle(SKETCH3_R)
        with Locations((-160, 4.5)):
            Circle(SKETCH3_R)
        with Locations((-144, 4.5)):
            Circle(SKETCH3_R)
        with Locations((-128, 4.5)):
            Circle(SKETCH3_R)
        with Locations((-112, 4.5)):
            Circle(SKETCH3_R)
        with Locations((-96, 4.5)):
            Circle(SKETCH3_R)
        with Locations((-80, 4.5)):
            Circle(SKETCH3_R)
        with Locations((-64, 4.5)):
            Circle(SKETCH3_R)
        with Locations((0, 4.5)):
            Circle(SKETCH3_R)
        with Locations((64, 4.5)):
            Circle(SKETCH3_R)
        with Locations((80, 4.5)):
            Circle(SKETCH3_R)
        with Locations((96, 4.5)):
            Circle(SKETCH3_R)
        with Locations((112, 4.5)):
            Circle(SKETCH3_R)
        with Locations((128, 4.5)):
            Circle(SKETCH3_R)
        with Locations((144, 4.5)):
            Circle(SKETCH3_R)
        with Locations((160, 4.5)):
            Circle(SKETCH3_R)
        with Locations((176, 4.5)):
            Circle(SKETCH3_R)
        with Locations((-160, -11.5)):
            Circle(SKETCH3_R)
        with Locations((-144, -11.5)):
            Circle(SKETCH3_R)
        with Locations((-112, -11.5)):
            Circle(SKETCH3_R)
        with Locations((-96, -11.5)):
            Circle(SKETCH3_R)
        with Locations((-80, -11.5)):
            Circle(SKETCH3_R)
        with Locations((-64, -11.5)):
            Circle(SKETCH3_R)
        with Locations((0, -11.5)):
            Circle(SKETCH3_R)
        with Locations((64, -11.5)):
            Circle(SKETCH3_R)
        with Locations((80, -11.5)):
            Circle(SKETCH3_R)
        with Locations((96, -11.5)):
            Circle(SKETCH3_R)
        with Locations((112, -11.5)):
            Circle(SKETCH3_R)
        with Locations((144, -11.5)):
            Circle(SKETCH3_R)
        with Locations((160, -11.5)):
            Circle(SKETCH3_R)
        with Locations((176, -11.5)):
            Circle(SKETCH3_R)
        with Locations((-160, -27.5)):
            Circle(SKETCH3_R)
        with Locations((-144, -27.5)):
            Circle(SKETCH3_R)
        with Locations((-128, -27.5)):
            Circle(SKETCH3_R)
        with Locations((-112, -27.5)):
            Circle(SKETCH3_R)
        with Locations((-96, -27.5)):
            Circle(SKETCH3_R)
        with Locations((-80, -27.5)):
            Circle(SKETCH3_R)
        with Locations((-64, -27.5)):
            Circle(SKETCH3_R)
        with Locations((0, -27.5)):
            Circle(SKETCH3_R)
        with Locations((64, -27.5)):
            Circle(SKETCH3_R)
        with Locations((80, -27.5)):
            Circle(SKETCH3_R)
        with Locations((96, -27.5)):
            Circle(SKETCH3_R)
        with Locations((112, -27.5)):
            Circle(SKETCH3_R)
        with Locations((128, -27.5)):
            Circle(SKETCH3_R)
        with Locations((144, -27.5)):
            Circle(SKETCH3_R)
        with Locations((160, -27.5)):
            Circle(SKETCH3_R)
        with Locations((176, -27.5)):
            Circle(SKETCH3_R)
        with Locations((-176, 20.5)):
            Circle(SKETCH3_R)
        with Locations((-176, 4.5)):
            Circle(SKETCH3_R)
        with Locations((-176, -11.5)):
            Circle(SKETCH3_R)
        with Locations((-176, -27.5)):
            Circle(SKETCH3_R)
    extrude(amount=-CUT_EXTRUDE1_DEPTH, mode=Mode.SUBTRACT)

    # Sketch4 → Cut-Extrude2 (cut)
    with BuildSketch(Plane.XY.offset(3.175)):
        Polygon((-184, -36.18), (-60, -36.18), (-51.005, -45.175), (-184, -45.175), align=None)
        Polygon((51.005, -45.175), (184, -45.175), (184, -36.18), (60, -36.18), align=None)
    extrude(amount=-CUT_EXTRUDE2_DEPTH, mode=Mode.SUBTRACT)

    # Fillet1
    fillet1_edges = [part.edges().sort_by_distance(p)[0] for p in [
        (184, -36.18, 1.5875),
        (-51.005, -45.175, 1.5875),
        (-184, -36.18, 1.5875),
        (-60, -36.18, 1.5875),
        (51.005, -45.175, 1.5875),
        (60, -36.18, 1.5875),
        (-184, 45.175, 1.5875),
        (184, 45.175, 1.5875),
    ]]
    fillet(fillet1_edges, radius=FILLET1_R)


solid = part.part
